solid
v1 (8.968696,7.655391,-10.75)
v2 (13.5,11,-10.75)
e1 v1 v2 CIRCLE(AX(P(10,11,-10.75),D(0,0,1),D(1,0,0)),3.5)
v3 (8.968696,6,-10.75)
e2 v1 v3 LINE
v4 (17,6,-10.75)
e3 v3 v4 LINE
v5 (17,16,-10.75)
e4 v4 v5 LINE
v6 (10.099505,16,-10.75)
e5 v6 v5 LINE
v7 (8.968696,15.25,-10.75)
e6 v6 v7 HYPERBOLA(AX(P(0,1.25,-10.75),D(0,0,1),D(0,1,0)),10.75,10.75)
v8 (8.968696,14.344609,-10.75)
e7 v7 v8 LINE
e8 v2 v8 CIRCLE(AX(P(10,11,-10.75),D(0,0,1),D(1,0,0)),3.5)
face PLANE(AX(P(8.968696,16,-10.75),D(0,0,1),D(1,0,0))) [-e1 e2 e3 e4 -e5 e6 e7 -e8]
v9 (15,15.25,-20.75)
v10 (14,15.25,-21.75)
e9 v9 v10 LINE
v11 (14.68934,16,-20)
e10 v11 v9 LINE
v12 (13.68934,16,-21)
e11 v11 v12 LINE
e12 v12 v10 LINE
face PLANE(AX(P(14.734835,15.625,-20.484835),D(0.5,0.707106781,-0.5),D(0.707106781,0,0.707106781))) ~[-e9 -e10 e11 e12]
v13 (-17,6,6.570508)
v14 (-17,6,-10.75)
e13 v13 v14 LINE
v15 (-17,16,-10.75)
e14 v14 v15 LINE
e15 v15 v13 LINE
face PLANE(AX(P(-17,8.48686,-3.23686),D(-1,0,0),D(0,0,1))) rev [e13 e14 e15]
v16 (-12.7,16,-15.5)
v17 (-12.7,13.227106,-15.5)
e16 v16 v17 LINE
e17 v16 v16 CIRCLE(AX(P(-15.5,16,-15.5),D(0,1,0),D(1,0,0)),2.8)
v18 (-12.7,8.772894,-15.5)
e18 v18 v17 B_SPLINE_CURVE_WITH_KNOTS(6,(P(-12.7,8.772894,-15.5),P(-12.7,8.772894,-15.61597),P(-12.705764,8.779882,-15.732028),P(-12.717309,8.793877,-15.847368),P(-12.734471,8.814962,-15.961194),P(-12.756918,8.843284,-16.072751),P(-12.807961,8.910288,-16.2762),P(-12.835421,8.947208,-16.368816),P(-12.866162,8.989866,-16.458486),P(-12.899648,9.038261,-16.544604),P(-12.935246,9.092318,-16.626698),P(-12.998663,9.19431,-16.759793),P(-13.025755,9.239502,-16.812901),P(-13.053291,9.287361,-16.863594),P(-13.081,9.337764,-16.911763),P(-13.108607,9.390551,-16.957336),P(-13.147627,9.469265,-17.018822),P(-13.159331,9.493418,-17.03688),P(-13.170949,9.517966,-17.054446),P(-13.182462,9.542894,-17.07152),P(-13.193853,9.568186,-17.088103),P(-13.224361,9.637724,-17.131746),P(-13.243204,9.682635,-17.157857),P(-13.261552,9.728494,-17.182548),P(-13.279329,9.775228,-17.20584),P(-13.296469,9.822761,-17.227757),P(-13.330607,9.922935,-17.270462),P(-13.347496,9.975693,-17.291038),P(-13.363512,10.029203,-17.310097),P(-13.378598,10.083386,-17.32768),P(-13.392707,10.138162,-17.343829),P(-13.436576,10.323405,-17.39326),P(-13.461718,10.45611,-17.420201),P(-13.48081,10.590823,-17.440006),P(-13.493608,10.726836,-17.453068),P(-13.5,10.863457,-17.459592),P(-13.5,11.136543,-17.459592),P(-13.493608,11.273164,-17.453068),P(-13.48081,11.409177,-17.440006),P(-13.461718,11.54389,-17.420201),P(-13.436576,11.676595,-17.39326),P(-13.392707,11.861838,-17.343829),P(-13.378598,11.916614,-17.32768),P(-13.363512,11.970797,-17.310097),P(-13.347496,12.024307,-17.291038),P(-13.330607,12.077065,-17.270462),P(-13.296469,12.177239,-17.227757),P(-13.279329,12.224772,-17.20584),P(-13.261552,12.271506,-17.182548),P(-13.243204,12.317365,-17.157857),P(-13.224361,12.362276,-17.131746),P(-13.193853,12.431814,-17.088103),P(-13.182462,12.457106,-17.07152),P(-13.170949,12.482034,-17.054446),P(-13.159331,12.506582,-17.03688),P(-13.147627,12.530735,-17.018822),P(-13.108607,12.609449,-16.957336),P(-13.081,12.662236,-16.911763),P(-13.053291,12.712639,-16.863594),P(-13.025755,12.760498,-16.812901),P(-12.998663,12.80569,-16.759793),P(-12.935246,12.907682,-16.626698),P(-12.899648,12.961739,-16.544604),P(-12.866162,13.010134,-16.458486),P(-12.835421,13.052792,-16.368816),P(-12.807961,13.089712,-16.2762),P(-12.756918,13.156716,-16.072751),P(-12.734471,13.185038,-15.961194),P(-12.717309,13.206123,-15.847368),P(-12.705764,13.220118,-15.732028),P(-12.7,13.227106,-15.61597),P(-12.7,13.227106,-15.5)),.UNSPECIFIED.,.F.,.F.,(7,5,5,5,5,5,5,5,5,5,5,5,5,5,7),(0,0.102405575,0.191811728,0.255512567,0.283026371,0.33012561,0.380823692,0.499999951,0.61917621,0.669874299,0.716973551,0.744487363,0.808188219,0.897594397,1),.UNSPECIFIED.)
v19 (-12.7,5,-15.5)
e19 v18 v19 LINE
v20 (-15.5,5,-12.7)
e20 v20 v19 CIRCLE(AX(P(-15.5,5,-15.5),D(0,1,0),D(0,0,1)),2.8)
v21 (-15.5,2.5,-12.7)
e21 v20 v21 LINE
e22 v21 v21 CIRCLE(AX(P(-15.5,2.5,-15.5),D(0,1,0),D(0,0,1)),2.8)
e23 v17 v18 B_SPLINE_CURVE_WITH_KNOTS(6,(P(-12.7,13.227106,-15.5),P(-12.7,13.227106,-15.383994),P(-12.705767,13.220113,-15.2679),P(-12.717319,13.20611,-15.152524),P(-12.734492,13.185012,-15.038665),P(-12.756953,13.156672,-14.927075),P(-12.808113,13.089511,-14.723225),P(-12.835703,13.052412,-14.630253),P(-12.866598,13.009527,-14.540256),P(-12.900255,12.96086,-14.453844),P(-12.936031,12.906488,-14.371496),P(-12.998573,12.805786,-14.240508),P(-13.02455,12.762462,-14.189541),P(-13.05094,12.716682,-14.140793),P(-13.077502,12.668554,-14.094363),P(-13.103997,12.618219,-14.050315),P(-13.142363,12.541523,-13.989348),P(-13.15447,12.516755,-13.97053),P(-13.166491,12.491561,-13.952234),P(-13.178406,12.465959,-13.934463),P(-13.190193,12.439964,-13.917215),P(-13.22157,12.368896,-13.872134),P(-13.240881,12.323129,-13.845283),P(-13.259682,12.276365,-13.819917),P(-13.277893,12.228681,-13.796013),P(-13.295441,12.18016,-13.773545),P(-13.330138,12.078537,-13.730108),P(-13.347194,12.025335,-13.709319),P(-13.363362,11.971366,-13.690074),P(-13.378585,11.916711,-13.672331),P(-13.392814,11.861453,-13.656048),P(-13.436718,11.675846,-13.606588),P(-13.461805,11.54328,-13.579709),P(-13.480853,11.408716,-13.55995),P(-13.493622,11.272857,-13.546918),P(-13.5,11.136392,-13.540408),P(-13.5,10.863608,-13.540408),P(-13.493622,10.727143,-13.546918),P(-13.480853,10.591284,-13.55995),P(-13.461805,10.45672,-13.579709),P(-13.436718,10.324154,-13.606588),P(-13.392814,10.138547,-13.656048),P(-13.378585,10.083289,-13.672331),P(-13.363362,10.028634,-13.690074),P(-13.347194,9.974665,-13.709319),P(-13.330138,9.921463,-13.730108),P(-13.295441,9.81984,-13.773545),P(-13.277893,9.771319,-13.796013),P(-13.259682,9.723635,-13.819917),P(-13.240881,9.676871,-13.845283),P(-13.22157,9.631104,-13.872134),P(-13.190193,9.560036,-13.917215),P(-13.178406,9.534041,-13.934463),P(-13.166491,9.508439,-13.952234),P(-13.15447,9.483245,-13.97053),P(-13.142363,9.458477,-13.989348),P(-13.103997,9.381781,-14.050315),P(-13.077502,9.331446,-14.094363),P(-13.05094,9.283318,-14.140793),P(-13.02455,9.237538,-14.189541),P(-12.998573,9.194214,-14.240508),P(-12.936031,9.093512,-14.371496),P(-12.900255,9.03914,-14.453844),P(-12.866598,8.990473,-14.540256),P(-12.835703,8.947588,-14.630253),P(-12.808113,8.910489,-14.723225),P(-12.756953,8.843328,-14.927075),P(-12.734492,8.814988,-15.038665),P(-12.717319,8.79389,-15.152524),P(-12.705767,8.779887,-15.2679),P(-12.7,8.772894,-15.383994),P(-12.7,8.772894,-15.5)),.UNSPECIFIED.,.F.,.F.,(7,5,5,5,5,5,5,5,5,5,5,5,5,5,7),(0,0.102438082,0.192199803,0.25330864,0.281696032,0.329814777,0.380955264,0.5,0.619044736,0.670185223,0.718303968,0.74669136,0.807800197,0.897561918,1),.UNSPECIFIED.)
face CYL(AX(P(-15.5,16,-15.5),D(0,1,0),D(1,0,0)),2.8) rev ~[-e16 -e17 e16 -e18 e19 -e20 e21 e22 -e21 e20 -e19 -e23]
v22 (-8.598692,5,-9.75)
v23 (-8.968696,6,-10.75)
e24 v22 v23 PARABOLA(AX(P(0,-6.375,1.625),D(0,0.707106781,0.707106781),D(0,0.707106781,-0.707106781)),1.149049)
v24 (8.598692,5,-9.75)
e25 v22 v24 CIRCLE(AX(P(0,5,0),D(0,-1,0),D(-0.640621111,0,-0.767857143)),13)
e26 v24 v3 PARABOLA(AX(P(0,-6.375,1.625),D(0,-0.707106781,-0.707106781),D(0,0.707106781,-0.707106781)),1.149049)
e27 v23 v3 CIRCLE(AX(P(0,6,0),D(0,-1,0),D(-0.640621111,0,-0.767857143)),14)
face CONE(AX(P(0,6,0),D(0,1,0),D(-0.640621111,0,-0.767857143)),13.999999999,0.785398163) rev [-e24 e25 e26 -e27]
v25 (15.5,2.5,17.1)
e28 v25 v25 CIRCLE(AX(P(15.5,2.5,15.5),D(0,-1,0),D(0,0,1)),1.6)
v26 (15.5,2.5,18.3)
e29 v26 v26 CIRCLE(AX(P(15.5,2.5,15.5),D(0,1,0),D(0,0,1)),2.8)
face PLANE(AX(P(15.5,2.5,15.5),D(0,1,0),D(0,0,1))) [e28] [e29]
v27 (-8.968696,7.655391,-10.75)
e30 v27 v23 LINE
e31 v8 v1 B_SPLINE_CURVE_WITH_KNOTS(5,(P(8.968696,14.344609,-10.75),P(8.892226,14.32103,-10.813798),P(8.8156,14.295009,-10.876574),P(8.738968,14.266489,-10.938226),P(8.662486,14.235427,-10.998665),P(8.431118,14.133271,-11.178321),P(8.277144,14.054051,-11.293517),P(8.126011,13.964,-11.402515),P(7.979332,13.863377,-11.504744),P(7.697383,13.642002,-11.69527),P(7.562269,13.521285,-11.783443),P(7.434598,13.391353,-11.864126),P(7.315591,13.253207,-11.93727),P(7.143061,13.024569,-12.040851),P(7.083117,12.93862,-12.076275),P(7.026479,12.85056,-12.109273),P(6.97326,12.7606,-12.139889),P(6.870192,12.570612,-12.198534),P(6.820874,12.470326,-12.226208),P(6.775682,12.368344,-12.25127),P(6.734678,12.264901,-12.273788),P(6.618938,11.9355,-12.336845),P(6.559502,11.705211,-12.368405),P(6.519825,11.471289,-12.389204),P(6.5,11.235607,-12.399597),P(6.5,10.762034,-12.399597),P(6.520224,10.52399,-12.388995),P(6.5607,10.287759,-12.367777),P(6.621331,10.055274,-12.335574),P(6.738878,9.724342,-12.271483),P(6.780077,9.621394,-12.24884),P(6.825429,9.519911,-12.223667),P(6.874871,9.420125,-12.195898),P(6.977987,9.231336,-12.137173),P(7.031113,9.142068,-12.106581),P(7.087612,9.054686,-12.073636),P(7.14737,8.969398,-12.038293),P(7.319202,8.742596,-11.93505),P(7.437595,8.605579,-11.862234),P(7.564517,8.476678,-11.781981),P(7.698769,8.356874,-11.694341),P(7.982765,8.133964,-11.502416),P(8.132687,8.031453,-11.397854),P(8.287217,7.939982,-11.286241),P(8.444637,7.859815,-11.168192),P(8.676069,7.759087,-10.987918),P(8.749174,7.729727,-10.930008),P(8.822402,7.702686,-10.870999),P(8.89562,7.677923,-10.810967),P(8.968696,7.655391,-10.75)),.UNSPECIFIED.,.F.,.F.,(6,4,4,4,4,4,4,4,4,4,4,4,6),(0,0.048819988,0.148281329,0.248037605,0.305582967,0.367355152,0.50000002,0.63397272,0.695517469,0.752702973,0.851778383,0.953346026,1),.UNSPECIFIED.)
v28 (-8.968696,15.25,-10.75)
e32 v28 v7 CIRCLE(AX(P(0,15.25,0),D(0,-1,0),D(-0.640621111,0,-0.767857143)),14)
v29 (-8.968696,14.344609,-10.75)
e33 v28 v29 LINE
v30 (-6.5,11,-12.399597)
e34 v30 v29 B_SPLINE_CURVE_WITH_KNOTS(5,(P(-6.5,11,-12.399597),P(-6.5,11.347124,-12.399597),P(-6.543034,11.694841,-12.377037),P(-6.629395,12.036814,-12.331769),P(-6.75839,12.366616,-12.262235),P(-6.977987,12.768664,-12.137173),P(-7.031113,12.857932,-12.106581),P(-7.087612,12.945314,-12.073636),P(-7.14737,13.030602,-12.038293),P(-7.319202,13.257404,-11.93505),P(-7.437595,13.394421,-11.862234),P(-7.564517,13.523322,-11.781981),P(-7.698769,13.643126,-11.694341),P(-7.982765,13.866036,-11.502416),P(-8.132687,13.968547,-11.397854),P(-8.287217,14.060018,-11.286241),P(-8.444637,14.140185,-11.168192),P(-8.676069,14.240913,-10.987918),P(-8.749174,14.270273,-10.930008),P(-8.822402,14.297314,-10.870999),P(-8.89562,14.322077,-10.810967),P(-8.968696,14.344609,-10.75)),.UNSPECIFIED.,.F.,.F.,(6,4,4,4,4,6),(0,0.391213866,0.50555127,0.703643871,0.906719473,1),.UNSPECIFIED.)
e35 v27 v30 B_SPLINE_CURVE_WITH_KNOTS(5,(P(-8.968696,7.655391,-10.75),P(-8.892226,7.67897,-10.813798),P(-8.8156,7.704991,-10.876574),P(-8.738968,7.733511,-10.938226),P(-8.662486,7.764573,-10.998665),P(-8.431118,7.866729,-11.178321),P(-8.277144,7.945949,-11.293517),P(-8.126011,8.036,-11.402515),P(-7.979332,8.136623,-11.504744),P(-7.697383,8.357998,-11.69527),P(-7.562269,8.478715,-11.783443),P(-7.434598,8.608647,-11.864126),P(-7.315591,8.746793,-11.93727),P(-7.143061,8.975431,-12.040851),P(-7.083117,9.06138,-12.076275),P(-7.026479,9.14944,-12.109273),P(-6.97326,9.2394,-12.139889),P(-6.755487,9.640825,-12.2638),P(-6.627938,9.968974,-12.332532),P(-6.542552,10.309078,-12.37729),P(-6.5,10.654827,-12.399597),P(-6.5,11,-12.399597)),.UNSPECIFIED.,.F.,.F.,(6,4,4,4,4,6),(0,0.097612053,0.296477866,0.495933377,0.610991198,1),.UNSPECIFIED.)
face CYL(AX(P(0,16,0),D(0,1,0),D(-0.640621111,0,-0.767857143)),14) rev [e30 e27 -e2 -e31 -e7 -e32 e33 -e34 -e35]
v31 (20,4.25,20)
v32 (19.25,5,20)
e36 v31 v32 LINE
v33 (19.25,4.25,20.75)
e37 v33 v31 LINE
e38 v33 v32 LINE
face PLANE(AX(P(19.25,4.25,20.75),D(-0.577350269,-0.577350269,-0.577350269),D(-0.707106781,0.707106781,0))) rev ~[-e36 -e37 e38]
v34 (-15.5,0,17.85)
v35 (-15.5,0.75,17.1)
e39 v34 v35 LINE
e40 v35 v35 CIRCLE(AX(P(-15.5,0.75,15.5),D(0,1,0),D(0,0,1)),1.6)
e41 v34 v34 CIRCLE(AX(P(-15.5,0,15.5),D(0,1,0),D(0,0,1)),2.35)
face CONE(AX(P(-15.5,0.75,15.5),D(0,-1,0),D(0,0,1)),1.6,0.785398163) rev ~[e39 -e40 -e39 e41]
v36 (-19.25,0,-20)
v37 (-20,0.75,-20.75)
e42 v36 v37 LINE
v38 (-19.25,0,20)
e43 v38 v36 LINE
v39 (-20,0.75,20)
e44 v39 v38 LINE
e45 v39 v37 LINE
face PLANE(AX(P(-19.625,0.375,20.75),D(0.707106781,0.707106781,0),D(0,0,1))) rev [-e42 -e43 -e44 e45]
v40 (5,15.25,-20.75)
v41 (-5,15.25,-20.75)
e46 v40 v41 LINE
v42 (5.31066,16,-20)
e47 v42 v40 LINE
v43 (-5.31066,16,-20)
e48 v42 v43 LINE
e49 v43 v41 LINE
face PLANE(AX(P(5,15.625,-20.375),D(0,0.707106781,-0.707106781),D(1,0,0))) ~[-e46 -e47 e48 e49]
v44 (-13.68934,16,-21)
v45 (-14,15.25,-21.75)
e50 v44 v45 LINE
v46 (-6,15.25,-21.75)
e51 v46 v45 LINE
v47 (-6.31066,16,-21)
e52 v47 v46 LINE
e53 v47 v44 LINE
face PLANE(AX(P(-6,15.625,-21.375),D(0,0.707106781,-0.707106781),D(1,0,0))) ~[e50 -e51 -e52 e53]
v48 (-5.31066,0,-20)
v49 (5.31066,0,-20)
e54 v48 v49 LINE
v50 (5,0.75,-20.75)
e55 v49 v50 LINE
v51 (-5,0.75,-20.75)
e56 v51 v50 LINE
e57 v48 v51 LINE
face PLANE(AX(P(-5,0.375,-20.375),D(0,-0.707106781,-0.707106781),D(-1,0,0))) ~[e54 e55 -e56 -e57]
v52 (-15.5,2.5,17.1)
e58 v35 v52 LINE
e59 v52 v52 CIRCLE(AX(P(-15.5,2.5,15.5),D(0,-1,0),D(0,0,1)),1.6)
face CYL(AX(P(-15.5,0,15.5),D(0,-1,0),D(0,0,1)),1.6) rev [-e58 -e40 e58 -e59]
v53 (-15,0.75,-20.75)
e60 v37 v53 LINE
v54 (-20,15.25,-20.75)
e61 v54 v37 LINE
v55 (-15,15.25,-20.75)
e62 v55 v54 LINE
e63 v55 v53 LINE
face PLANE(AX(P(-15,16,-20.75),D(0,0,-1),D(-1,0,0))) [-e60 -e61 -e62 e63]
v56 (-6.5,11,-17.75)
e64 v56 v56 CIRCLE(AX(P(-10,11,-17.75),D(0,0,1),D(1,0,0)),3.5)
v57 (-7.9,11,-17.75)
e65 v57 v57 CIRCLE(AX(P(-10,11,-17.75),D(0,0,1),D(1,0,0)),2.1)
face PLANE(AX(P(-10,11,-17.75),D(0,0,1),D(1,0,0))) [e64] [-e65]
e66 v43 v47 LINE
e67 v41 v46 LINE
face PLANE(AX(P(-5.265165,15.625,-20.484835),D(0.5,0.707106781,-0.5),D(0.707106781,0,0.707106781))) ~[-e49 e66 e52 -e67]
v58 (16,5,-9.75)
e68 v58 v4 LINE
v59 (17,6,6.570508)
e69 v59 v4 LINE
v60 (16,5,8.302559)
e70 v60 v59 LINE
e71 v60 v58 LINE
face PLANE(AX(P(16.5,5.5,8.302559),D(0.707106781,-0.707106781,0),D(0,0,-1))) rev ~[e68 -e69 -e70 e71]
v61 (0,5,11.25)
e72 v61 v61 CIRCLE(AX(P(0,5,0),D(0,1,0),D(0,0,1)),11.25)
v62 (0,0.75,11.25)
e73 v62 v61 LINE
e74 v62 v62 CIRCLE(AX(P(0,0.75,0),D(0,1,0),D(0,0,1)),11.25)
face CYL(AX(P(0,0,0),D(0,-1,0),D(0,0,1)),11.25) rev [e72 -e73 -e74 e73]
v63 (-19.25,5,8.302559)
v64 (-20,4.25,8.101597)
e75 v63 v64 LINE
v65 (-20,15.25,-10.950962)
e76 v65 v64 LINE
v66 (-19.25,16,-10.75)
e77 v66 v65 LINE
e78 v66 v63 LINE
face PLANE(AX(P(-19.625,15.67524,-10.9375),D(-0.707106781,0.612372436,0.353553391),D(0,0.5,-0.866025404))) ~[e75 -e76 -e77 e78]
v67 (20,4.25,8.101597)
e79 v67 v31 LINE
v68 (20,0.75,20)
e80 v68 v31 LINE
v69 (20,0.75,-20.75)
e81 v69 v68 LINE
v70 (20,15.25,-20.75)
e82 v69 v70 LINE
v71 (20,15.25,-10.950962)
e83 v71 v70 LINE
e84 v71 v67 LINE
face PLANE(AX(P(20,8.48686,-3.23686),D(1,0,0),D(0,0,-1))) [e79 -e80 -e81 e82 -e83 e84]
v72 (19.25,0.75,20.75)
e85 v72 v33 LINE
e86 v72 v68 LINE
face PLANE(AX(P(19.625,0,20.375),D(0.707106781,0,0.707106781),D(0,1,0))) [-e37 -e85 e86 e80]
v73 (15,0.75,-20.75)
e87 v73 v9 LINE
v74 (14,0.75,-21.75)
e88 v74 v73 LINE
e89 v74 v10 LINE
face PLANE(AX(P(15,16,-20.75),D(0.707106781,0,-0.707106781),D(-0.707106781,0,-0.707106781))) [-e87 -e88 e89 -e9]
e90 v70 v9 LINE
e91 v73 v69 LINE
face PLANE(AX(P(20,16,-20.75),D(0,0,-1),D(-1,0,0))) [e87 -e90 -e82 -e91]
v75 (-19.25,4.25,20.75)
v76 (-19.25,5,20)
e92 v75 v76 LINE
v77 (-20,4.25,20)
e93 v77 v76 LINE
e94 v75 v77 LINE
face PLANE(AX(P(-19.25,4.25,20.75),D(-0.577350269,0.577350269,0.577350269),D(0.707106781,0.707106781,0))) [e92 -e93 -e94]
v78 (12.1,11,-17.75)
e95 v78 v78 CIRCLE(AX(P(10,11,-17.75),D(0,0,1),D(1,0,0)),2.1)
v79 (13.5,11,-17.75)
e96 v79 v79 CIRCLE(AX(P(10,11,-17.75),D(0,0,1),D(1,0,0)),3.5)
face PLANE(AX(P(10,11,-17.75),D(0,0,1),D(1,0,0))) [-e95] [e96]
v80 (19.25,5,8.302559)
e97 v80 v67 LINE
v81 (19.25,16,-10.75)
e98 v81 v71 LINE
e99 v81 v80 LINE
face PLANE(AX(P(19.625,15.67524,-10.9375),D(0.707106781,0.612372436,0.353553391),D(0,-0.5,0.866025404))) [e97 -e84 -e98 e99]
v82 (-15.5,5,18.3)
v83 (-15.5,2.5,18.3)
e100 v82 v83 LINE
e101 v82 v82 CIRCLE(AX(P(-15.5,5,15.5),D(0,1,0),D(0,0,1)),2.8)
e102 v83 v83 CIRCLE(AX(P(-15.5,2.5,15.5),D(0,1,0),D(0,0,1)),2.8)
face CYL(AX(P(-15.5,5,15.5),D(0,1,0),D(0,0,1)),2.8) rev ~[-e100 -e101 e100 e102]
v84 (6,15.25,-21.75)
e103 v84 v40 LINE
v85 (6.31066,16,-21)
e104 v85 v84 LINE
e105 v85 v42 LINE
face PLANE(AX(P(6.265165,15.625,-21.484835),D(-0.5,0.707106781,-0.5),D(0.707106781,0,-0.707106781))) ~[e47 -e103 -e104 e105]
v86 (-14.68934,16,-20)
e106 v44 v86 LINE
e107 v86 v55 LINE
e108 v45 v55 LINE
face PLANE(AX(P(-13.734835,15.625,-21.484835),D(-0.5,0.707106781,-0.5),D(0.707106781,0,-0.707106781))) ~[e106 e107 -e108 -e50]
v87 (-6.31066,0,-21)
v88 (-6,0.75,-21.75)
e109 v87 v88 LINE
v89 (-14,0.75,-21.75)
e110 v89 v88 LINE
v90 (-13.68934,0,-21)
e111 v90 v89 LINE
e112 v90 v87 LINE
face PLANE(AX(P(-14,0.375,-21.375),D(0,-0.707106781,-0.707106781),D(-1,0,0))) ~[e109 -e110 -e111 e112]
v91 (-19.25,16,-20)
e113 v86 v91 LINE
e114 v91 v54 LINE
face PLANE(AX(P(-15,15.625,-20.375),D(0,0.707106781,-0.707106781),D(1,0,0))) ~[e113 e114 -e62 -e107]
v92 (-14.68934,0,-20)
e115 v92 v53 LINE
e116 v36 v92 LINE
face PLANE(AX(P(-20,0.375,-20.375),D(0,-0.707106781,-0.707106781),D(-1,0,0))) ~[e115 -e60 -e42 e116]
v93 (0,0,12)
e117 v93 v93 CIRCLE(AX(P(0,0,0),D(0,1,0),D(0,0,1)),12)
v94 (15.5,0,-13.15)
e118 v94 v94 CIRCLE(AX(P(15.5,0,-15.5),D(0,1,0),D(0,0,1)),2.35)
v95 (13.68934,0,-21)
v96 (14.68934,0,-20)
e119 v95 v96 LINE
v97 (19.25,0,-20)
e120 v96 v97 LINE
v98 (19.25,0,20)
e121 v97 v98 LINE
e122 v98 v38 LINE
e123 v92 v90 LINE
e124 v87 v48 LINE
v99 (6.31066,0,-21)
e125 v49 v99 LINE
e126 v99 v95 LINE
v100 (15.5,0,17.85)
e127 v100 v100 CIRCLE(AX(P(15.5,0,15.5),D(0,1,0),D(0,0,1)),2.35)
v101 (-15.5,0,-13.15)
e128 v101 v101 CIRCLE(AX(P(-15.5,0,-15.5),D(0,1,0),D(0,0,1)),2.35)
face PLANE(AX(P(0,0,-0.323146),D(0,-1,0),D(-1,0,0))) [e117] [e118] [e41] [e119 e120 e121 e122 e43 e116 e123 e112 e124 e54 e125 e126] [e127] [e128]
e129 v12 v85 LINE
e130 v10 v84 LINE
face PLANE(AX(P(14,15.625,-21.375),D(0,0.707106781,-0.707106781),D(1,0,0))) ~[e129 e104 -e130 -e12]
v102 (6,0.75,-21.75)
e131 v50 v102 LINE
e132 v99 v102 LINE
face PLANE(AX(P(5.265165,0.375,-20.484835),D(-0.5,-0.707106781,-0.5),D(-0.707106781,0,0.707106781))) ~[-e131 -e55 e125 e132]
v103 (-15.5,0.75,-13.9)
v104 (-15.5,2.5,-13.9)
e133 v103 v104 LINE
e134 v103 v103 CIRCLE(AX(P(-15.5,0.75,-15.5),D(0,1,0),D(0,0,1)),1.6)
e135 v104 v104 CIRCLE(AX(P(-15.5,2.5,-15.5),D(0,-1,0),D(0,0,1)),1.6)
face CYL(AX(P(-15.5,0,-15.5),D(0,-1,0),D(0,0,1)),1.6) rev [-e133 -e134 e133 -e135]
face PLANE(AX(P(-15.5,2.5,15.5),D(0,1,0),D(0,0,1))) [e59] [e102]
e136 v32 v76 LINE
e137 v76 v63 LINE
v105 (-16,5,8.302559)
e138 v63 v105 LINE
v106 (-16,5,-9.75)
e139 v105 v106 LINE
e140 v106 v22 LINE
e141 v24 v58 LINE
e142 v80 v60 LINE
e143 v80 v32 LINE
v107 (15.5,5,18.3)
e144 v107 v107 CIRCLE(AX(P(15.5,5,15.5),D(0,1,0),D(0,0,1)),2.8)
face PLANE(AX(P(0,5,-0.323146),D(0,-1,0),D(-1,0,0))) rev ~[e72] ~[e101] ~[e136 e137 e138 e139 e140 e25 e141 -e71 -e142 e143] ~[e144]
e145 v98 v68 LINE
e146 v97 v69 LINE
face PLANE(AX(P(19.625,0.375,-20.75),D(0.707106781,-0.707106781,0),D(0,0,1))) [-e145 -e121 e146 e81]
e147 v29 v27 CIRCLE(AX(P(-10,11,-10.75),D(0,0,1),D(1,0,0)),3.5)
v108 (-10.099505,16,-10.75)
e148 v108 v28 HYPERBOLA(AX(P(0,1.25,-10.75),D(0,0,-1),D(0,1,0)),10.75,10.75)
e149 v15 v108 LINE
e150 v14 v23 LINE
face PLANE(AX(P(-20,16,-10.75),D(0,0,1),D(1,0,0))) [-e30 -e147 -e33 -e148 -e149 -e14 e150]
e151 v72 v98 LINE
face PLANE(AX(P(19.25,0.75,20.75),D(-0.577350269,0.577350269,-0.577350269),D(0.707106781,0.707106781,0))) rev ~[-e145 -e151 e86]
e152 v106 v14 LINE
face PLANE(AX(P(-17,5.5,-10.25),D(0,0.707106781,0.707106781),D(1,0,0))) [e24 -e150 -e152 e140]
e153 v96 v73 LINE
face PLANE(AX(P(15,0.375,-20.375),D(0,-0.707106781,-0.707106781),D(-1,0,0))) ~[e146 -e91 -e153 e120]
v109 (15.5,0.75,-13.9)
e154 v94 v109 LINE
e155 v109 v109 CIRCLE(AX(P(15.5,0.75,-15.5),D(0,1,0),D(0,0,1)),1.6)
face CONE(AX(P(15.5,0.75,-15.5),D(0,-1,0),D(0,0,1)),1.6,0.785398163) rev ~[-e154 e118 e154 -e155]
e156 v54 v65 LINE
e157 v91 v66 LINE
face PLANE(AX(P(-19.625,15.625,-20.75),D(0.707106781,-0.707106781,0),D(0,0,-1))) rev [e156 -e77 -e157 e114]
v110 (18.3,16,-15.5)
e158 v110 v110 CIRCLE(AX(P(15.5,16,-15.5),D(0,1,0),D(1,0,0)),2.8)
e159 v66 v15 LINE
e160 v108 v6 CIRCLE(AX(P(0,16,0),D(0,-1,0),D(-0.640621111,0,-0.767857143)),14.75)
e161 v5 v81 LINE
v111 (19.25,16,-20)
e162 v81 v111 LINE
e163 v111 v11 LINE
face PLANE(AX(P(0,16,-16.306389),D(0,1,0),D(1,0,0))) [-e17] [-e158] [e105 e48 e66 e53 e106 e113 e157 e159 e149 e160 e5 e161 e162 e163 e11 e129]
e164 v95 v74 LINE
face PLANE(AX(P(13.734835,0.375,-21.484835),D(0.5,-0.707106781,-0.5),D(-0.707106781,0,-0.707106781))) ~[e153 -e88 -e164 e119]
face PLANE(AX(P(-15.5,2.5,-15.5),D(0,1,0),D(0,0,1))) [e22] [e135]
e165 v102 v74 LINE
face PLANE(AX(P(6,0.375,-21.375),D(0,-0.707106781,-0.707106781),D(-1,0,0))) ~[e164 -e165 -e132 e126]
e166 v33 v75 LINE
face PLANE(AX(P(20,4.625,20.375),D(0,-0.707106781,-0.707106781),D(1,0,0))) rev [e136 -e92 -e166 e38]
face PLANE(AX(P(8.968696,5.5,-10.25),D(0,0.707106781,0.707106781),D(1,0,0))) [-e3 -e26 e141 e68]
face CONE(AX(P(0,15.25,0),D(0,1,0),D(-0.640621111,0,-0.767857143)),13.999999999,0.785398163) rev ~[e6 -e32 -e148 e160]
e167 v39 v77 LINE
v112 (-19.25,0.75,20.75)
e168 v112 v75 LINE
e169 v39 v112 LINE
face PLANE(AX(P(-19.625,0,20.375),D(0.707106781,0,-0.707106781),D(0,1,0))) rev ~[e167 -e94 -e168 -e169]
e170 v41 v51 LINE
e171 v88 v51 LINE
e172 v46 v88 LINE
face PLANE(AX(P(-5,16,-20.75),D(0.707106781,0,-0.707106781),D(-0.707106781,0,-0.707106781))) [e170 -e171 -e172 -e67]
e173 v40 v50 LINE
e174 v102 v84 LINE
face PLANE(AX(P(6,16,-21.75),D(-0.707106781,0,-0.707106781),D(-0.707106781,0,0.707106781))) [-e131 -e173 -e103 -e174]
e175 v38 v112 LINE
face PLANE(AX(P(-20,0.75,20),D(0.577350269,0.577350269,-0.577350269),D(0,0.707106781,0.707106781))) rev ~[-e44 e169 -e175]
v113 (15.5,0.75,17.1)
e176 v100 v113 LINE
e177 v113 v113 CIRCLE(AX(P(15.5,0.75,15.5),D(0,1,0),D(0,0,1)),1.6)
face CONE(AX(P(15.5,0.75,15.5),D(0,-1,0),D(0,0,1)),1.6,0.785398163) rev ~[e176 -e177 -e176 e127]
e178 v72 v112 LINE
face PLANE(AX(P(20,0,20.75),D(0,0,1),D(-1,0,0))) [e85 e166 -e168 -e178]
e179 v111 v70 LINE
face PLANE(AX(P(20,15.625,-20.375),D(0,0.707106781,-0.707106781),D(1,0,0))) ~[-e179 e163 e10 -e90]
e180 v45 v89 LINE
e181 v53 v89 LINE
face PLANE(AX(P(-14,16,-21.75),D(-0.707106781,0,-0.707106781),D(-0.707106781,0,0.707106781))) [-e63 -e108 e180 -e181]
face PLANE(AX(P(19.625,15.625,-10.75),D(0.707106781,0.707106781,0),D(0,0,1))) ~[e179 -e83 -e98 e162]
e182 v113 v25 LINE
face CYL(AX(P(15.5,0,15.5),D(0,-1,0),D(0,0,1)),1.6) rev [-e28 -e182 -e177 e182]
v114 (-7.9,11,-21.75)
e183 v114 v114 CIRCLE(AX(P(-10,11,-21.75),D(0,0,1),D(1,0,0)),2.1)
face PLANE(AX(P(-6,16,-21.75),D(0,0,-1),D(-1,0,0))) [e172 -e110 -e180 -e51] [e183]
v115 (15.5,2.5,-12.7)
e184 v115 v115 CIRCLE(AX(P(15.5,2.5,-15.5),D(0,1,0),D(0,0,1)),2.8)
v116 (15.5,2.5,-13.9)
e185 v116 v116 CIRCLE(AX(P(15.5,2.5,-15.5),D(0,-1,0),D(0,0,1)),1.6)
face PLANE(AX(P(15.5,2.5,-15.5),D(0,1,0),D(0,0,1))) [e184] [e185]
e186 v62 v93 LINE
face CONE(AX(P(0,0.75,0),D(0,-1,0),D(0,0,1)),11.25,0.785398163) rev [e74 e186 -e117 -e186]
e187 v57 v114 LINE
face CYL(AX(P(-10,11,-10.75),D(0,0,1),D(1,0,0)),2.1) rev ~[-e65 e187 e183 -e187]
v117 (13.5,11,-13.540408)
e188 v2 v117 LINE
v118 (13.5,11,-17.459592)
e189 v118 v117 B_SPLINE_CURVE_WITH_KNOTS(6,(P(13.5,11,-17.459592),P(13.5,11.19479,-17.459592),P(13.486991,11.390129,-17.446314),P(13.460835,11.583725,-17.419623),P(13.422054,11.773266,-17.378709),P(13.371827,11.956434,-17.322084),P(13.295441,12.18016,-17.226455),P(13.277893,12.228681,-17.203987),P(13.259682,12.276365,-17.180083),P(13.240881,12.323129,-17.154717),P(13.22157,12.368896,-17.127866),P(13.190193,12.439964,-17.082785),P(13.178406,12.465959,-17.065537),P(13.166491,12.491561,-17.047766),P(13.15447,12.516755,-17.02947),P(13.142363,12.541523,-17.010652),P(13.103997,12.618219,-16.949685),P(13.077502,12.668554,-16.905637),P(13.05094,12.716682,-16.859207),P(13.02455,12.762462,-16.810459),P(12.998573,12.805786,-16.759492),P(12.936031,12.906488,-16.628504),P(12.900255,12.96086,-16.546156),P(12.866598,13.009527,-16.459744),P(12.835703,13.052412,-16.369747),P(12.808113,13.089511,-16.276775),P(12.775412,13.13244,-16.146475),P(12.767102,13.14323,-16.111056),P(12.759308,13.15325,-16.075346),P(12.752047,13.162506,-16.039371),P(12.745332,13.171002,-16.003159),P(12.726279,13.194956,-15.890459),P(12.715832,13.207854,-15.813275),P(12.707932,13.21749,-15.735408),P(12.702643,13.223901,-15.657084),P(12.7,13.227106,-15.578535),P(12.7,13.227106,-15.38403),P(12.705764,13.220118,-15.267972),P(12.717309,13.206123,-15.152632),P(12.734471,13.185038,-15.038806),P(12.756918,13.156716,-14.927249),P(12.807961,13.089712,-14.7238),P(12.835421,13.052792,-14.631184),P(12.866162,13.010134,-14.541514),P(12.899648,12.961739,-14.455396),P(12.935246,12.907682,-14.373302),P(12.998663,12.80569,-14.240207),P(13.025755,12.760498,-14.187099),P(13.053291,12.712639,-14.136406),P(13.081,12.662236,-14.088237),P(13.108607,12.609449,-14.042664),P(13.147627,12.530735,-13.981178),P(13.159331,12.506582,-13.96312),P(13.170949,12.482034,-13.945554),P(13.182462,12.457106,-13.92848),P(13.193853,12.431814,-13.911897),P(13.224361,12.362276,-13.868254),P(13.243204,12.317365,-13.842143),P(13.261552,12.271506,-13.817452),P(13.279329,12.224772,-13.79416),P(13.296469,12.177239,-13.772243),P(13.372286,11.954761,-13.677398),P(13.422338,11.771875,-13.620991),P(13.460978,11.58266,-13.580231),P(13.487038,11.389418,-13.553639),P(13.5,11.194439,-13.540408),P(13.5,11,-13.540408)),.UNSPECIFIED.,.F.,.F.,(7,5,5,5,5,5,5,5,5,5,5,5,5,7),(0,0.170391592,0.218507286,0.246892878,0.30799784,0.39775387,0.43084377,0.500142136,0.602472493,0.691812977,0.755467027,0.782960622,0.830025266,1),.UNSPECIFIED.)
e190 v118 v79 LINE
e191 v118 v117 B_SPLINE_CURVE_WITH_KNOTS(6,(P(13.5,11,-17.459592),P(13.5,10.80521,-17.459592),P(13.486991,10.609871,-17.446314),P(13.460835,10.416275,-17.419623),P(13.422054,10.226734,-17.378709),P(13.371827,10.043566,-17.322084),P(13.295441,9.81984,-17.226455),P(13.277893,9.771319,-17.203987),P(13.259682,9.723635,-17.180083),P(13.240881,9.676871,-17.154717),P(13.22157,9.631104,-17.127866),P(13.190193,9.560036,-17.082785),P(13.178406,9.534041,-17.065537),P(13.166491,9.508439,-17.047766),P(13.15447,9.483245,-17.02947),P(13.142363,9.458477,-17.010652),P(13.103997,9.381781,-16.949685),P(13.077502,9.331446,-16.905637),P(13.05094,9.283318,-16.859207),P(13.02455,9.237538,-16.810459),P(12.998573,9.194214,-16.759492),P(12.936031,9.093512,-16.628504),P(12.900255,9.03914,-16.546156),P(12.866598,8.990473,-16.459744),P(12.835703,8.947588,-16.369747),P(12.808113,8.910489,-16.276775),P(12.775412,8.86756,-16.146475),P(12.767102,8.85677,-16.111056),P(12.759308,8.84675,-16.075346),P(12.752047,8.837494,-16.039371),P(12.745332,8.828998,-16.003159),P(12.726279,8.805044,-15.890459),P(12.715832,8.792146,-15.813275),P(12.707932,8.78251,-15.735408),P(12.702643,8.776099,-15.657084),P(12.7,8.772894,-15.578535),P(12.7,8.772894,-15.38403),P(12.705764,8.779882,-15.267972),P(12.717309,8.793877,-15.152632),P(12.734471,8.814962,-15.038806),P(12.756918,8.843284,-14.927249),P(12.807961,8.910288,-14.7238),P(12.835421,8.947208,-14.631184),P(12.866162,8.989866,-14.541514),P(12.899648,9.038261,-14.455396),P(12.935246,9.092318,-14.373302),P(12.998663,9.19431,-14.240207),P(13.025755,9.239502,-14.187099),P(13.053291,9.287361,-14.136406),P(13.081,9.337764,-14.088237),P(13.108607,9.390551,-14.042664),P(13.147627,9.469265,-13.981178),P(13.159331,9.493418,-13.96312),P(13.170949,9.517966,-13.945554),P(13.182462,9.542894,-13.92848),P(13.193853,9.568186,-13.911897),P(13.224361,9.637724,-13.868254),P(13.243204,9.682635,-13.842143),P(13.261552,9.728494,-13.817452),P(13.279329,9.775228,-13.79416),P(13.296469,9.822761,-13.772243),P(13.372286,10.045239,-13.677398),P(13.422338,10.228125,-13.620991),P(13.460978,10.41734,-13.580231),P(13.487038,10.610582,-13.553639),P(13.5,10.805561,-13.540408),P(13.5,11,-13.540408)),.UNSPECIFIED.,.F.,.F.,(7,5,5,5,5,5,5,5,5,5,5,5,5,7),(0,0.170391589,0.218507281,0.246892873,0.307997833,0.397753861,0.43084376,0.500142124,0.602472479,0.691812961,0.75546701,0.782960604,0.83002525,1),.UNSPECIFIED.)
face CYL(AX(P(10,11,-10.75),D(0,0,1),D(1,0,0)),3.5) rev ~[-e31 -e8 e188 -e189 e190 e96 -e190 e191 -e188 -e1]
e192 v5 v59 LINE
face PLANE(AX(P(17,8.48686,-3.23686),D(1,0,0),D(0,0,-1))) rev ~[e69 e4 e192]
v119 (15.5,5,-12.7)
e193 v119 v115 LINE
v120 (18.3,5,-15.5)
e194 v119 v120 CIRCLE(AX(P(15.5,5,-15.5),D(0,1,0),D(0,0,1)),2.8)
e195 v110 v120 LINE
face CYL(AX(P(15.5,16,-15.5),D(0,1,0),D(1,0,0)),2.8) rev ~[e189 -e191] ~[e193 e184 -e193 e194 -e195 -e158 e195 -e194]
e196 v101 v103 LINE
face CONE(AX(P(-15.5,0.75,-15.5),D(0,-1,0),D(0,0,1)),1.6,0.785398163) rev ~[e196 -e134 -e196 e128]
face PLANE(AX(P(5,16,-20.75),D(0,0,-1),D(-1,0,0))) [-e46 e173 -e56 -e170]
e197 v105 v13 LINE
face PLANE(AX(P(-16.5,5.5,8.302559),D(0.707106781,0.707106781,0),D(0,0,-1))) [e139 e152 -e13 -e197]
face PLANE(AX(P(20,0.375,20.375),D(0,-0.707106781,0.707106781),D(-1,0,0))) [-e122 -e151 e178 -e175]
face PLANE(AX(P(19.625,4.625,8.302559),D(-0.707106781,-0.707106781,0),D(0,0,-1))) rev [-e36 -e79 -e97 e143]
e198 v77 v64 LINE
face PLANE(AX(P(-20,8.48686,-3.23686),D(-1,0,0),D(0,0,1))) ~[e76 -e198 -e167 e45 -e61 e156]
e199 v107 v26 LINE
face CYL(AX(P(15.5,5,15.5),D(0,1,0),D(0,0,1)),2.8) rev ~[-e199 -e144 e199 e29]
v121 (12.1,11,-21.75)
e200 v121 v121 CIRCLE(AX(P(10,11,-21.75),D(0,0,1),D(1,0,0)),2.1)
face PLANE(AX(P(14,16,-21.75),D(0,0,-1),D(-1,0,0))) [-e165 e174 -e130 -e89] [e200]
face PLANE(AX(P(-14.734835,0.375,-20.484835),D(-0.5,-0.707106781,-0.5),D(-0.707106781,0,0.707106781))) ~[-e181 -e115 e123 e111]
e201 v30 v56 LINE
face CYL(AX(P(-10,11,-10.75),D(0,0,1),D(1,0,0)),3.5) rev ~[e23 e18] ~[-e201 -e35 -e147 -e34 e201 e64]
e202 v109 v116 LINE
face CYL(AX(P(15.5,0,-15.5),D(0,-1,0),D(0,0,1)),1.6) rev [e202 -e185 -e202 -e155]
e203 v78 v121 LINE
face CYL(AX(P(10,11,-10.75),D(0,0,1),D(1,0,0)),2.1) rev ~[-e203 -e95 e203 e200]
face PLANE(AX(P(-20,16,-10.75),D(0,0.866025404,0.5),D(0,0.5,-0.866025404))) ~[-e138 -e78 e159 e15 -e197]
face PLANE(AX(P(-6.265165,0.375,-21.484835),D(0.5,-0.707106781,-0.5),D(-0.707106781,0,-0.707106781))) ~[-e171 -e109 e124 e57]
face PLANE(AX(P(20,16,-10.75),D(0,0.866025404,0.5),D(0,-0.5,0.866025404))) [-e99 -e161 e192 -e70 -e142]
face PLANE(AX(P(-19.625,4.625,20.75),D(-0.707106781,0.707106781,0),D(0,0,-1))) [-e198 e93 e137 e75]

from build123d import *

# Parameters (mm, degrees)
SKETCH1_R           = 11.25
SKETCH1_R_2         = 1.6
BOSS_EXTRUDE1_DEPTH = 5
SKETCH4_R           = 2.8
CUT_EXTRUDE1_DEPTH  = 2.5
BOSS_EXTRUDE2_START = 11
SKETCH2_R           = 2.8
BOSS_EXTRUDE2_DEPTH = 11
BOSS_EXTRUDE3_DEPTH = 3
CHAMFER2_SIZE       = 1
CUT_EXTRUDE2_REACH  = 42.599
SKETCH5_R           = 2.1
SKETCH6_R           = 3.5
CUT_EXTRUDE3_DEPTH  = 7
CHAMFER3_SIZE       = 0.75


with BuildPart() as part:
    # Sketch1 → Boss-Extrude1 (new body)
    with BuildSketch(Plane(origin=(0, 0, 0), x_dir=(1, 0, 0), z_dir=(0, 1, 0))):
        Polygon((-20, 20.75), (-15, 20.75), (-14, 21.75), (-6, 21.75), (-5, 20.75), (5, 20.75), (6, 21.75), (14, 21.75), (15, 20.75), (20, 20.75), (20, -20.75), (-20, -20.75), align=None)
        with Locations(Location((0, 0, 0), (0, 0, 270))):
            Circle(SKETCH1_R, mode=Mode.SUBTRACT)
        with Locations(Location((15.5, 15.5, 0), (0, 0, 270))):
            Circle(SKETCH1_R_2, mode=Mode.SUBTRACT)
        with Locations(Location((-15.5, 15.5, 0), (0, 0, 270))):
            Circle(SKETCH1_R_2, mode=Mode.SUBTRACT)
        with Locations(Location((-15.5, -15.5, 0), (0, 0, 270))):
            Circle(SKETCH1_R_2, mode=Mode.SUBTRACT)
        with Locations(Location((15.5, -15.5, 0), (0, 0, 270))):
            Circle(SKETCH1_R_2, mode=Mode.SUBTRACT)
    extrude(amount=BOSS_EXTRUDE1_DEPTH)

    # Sketch4 → Cut-Extrude1 (cut)
    with BuildSketch(Plane(origin=(0, 5, 0), x_dir=(1, 0, 0), z_dir=(0, 1, 0))):
        with Locations(Location((-15.5, -15.5, 0), (0, 0, 270))):
            Circle(SKETCH4_R)
        with Locations(Location((15.5, 15.5, 0), (0, 0, 270))):
            Circle(SKETCH4_R)
        with Locations(Location((-15.5, 15.5, 0), (0, 0, 270))):
            Circle(SKETCH4_R)
        with Locations(Location((15.5, -15.5, 0), (0, 0, 270))):
            Circle(SKETCH4_R)
    extrude(amount=-CUT_EXTRUDE1_DEPTH, mode=Mode.SUBTRACT)

    # Sketch2 → Boss-Extrude2 (add)
    with BuildSketch(Plane(origin=(0, 5, 0), x_dir=(1, 0, 0), z_dir=(0, 1, 0)).offset(BOSS_EXTRUDE2_START)):
        with BuildLine():
            Line((-20, 10.75), (-8.968695557, 10.75))
            ThreePointArc((-8.968695557, 10.75), (0, 14), (8.968695557, 10.75))
            Line((8.968695557, 10.75), (20, 10.75))
            Line((20, 10.75), (20, 20.75))
            Line((20, 20.75), (15, 20.75))
            Line((15, 20.75), (14, 21.75))
            Line((14, 21.75), (6, 21.75))
            Line((6, 21.75), (5, 20.75))
            Line((5, 20.75), (-5, 20.75))
            Line((-5, 20.75), (-6, 21.75))
            Line((-6, 21.75), (-14, 21.75))
            Line((-14, 21.75), (-15, 20.75))
            Line((-15, 20.75), (-20, 20.75))
            Line((-20, 20.75), (-20, 10.75))
        make_face()
        with Locations((-15.5, 15.5)):
            Circle(SKETCH2_R, mode=Mode.SUBTRACT)
        with Locations((15.5, 15.5)):
            Circle(SKETCH2_R, mode=Mode.SUBTRACT)
    extrude(amount=-BOSS_EXTRUDE2_DEPTH)

    # Sketch3 → Boss-Extrude3 (add)
    with BuildSketch(Plane(origin=(20, 0, 0), x_dir=(0, 0, -1), z_dir=(1, 0, 0))):
        Polygon((10.75, 16), (-8.302558883, 5), (10.75, 5), align=None)
    boss_extrude3 = extrude(amount=-BOSS_EXTRUDE3_DEPTH)

    # Mirror1: Boss-Extrude3 across plane
    add(boss_extrude3.mirror(Plane(origin=(0, 0, 0), x_dir=(0, 0, 1), z_dir=(1, 0, 0))))

    # Chamfer2
    chamfer2_edges = [part.edges().sort_by_distance(p)[0] for p in [
        (12.984347779, 5, -10.75),
        (17, 5, -1.223720558),
        (-17, 5, -1.223720558),
        (0, 5, -14),
        (-12.984347779, 5, -10.75),
    ]]
    chamfer(chamfer2_edges, length=CHAMFER2_SIZE)

    # Sketch5 → Cut-Extrude2 (cut, up to next)
    with BuildSketch(Plane.XY.offset(-10.75), mode=Mode.PRIVATE) as cut_extrude2_sk1:
        with Locations((-10, 11)):
            Circle(SKETCH5_R)
    cut_extrude2_tool1 = extrude(cut_extrude2_sk1.sketch, amount=-CUT_EXTRUDE2_REACH, mode=Mode.PRIVATE) & part.part
    # Sketch5 → Cut-Extrude2 (cut, up to next)
    with BuildSketch(Plane.XY.offset(-10.75), mode=Mode.PRIVATE) as cut_extrude2_sk2:
        with Locations((10, 11)):
            Circle(SKETCH5_R)
    cut_extrude2_tool2 = extrude(cut_extrude2_sk2.sketch, amount=-CUT_EXTRUDE2_REACH, mode=Mode.PRIVATE) & part.part
    add(cut_extrude2_tool1.solids().sort_by_distance((-10, 11, -10.75))[0], mode=Mode.SUBTRACT)
    add(cut_extrude2_tool2.solids().sort_by_distance((10, 11, -10.75))[0], mode=Mode.SUBTRACT)

    # Sketch6 → Cut-Extrude3 (cut)
    with BuildSketch(Plane.XY.offset(-10.75)):
        with Locations((-10, 11)):
            Circle(SKETCH6_R)
        with Locations((10, 11)):
            Circle(SKETCH6_R)
    extrude(amount=-CUT_EXTRUDE3_DEPTH, mode=Mode.SUBTRACT)

    # Chamfer3
    chamfer3_edges = [part.edges().sort_by_distance(p)[0] for p in [
        (-17.5, 0, -20.75),
        (-14.5, 0, -21.25),
        (20, 5, 14.526279442),
        (-10, 0, -21.75),
        (20, 10.5, -1.223720558),
        (-5.5, 0, -21.25),
        (0, 0, -20.75),
        (-20, 5, 14.526279442),
        (-20, 10.5, -1.223720558),
        (5.5, 0, -21.25),
        (10, 0, -21.75),
        (14.5, 0, -21.25),
        (17.5, 0, -20.75),
        (20, 0, 0),
        (0, 0, 20.75),
        (-20, 0, 0),
        (20, 2.5, 20.75),
        (-20, 2.5, 20.75),
        (0, 0, -11.25),
        (15.5, 0, -17.1),
        (-15.5, 0, -17.1),
        (-15.5, 0, 13.9),
        (15.5, 0, 13.9),
        (0, 5, 20.75),
        (0, 16, -14),
        (20, 16, -15.75),
        (17.5, 16, -20.75),
        (14.5, 16, -21.25),
        (10, 16, -21.75),
        (5.5, 16, -21.25),
        (0, 16, -20.75),
        (-5.5, 16, -21.25),
        (-10, 16, -21.75),
        (-14.5, 16, -21.25),
        (-17.5, 16, -20.75),
        (-20, 16, -15.75),
    ]]
    chamfer(chamfer3_edges, length=CHAMFER3_SIZE)


solid = part.part
